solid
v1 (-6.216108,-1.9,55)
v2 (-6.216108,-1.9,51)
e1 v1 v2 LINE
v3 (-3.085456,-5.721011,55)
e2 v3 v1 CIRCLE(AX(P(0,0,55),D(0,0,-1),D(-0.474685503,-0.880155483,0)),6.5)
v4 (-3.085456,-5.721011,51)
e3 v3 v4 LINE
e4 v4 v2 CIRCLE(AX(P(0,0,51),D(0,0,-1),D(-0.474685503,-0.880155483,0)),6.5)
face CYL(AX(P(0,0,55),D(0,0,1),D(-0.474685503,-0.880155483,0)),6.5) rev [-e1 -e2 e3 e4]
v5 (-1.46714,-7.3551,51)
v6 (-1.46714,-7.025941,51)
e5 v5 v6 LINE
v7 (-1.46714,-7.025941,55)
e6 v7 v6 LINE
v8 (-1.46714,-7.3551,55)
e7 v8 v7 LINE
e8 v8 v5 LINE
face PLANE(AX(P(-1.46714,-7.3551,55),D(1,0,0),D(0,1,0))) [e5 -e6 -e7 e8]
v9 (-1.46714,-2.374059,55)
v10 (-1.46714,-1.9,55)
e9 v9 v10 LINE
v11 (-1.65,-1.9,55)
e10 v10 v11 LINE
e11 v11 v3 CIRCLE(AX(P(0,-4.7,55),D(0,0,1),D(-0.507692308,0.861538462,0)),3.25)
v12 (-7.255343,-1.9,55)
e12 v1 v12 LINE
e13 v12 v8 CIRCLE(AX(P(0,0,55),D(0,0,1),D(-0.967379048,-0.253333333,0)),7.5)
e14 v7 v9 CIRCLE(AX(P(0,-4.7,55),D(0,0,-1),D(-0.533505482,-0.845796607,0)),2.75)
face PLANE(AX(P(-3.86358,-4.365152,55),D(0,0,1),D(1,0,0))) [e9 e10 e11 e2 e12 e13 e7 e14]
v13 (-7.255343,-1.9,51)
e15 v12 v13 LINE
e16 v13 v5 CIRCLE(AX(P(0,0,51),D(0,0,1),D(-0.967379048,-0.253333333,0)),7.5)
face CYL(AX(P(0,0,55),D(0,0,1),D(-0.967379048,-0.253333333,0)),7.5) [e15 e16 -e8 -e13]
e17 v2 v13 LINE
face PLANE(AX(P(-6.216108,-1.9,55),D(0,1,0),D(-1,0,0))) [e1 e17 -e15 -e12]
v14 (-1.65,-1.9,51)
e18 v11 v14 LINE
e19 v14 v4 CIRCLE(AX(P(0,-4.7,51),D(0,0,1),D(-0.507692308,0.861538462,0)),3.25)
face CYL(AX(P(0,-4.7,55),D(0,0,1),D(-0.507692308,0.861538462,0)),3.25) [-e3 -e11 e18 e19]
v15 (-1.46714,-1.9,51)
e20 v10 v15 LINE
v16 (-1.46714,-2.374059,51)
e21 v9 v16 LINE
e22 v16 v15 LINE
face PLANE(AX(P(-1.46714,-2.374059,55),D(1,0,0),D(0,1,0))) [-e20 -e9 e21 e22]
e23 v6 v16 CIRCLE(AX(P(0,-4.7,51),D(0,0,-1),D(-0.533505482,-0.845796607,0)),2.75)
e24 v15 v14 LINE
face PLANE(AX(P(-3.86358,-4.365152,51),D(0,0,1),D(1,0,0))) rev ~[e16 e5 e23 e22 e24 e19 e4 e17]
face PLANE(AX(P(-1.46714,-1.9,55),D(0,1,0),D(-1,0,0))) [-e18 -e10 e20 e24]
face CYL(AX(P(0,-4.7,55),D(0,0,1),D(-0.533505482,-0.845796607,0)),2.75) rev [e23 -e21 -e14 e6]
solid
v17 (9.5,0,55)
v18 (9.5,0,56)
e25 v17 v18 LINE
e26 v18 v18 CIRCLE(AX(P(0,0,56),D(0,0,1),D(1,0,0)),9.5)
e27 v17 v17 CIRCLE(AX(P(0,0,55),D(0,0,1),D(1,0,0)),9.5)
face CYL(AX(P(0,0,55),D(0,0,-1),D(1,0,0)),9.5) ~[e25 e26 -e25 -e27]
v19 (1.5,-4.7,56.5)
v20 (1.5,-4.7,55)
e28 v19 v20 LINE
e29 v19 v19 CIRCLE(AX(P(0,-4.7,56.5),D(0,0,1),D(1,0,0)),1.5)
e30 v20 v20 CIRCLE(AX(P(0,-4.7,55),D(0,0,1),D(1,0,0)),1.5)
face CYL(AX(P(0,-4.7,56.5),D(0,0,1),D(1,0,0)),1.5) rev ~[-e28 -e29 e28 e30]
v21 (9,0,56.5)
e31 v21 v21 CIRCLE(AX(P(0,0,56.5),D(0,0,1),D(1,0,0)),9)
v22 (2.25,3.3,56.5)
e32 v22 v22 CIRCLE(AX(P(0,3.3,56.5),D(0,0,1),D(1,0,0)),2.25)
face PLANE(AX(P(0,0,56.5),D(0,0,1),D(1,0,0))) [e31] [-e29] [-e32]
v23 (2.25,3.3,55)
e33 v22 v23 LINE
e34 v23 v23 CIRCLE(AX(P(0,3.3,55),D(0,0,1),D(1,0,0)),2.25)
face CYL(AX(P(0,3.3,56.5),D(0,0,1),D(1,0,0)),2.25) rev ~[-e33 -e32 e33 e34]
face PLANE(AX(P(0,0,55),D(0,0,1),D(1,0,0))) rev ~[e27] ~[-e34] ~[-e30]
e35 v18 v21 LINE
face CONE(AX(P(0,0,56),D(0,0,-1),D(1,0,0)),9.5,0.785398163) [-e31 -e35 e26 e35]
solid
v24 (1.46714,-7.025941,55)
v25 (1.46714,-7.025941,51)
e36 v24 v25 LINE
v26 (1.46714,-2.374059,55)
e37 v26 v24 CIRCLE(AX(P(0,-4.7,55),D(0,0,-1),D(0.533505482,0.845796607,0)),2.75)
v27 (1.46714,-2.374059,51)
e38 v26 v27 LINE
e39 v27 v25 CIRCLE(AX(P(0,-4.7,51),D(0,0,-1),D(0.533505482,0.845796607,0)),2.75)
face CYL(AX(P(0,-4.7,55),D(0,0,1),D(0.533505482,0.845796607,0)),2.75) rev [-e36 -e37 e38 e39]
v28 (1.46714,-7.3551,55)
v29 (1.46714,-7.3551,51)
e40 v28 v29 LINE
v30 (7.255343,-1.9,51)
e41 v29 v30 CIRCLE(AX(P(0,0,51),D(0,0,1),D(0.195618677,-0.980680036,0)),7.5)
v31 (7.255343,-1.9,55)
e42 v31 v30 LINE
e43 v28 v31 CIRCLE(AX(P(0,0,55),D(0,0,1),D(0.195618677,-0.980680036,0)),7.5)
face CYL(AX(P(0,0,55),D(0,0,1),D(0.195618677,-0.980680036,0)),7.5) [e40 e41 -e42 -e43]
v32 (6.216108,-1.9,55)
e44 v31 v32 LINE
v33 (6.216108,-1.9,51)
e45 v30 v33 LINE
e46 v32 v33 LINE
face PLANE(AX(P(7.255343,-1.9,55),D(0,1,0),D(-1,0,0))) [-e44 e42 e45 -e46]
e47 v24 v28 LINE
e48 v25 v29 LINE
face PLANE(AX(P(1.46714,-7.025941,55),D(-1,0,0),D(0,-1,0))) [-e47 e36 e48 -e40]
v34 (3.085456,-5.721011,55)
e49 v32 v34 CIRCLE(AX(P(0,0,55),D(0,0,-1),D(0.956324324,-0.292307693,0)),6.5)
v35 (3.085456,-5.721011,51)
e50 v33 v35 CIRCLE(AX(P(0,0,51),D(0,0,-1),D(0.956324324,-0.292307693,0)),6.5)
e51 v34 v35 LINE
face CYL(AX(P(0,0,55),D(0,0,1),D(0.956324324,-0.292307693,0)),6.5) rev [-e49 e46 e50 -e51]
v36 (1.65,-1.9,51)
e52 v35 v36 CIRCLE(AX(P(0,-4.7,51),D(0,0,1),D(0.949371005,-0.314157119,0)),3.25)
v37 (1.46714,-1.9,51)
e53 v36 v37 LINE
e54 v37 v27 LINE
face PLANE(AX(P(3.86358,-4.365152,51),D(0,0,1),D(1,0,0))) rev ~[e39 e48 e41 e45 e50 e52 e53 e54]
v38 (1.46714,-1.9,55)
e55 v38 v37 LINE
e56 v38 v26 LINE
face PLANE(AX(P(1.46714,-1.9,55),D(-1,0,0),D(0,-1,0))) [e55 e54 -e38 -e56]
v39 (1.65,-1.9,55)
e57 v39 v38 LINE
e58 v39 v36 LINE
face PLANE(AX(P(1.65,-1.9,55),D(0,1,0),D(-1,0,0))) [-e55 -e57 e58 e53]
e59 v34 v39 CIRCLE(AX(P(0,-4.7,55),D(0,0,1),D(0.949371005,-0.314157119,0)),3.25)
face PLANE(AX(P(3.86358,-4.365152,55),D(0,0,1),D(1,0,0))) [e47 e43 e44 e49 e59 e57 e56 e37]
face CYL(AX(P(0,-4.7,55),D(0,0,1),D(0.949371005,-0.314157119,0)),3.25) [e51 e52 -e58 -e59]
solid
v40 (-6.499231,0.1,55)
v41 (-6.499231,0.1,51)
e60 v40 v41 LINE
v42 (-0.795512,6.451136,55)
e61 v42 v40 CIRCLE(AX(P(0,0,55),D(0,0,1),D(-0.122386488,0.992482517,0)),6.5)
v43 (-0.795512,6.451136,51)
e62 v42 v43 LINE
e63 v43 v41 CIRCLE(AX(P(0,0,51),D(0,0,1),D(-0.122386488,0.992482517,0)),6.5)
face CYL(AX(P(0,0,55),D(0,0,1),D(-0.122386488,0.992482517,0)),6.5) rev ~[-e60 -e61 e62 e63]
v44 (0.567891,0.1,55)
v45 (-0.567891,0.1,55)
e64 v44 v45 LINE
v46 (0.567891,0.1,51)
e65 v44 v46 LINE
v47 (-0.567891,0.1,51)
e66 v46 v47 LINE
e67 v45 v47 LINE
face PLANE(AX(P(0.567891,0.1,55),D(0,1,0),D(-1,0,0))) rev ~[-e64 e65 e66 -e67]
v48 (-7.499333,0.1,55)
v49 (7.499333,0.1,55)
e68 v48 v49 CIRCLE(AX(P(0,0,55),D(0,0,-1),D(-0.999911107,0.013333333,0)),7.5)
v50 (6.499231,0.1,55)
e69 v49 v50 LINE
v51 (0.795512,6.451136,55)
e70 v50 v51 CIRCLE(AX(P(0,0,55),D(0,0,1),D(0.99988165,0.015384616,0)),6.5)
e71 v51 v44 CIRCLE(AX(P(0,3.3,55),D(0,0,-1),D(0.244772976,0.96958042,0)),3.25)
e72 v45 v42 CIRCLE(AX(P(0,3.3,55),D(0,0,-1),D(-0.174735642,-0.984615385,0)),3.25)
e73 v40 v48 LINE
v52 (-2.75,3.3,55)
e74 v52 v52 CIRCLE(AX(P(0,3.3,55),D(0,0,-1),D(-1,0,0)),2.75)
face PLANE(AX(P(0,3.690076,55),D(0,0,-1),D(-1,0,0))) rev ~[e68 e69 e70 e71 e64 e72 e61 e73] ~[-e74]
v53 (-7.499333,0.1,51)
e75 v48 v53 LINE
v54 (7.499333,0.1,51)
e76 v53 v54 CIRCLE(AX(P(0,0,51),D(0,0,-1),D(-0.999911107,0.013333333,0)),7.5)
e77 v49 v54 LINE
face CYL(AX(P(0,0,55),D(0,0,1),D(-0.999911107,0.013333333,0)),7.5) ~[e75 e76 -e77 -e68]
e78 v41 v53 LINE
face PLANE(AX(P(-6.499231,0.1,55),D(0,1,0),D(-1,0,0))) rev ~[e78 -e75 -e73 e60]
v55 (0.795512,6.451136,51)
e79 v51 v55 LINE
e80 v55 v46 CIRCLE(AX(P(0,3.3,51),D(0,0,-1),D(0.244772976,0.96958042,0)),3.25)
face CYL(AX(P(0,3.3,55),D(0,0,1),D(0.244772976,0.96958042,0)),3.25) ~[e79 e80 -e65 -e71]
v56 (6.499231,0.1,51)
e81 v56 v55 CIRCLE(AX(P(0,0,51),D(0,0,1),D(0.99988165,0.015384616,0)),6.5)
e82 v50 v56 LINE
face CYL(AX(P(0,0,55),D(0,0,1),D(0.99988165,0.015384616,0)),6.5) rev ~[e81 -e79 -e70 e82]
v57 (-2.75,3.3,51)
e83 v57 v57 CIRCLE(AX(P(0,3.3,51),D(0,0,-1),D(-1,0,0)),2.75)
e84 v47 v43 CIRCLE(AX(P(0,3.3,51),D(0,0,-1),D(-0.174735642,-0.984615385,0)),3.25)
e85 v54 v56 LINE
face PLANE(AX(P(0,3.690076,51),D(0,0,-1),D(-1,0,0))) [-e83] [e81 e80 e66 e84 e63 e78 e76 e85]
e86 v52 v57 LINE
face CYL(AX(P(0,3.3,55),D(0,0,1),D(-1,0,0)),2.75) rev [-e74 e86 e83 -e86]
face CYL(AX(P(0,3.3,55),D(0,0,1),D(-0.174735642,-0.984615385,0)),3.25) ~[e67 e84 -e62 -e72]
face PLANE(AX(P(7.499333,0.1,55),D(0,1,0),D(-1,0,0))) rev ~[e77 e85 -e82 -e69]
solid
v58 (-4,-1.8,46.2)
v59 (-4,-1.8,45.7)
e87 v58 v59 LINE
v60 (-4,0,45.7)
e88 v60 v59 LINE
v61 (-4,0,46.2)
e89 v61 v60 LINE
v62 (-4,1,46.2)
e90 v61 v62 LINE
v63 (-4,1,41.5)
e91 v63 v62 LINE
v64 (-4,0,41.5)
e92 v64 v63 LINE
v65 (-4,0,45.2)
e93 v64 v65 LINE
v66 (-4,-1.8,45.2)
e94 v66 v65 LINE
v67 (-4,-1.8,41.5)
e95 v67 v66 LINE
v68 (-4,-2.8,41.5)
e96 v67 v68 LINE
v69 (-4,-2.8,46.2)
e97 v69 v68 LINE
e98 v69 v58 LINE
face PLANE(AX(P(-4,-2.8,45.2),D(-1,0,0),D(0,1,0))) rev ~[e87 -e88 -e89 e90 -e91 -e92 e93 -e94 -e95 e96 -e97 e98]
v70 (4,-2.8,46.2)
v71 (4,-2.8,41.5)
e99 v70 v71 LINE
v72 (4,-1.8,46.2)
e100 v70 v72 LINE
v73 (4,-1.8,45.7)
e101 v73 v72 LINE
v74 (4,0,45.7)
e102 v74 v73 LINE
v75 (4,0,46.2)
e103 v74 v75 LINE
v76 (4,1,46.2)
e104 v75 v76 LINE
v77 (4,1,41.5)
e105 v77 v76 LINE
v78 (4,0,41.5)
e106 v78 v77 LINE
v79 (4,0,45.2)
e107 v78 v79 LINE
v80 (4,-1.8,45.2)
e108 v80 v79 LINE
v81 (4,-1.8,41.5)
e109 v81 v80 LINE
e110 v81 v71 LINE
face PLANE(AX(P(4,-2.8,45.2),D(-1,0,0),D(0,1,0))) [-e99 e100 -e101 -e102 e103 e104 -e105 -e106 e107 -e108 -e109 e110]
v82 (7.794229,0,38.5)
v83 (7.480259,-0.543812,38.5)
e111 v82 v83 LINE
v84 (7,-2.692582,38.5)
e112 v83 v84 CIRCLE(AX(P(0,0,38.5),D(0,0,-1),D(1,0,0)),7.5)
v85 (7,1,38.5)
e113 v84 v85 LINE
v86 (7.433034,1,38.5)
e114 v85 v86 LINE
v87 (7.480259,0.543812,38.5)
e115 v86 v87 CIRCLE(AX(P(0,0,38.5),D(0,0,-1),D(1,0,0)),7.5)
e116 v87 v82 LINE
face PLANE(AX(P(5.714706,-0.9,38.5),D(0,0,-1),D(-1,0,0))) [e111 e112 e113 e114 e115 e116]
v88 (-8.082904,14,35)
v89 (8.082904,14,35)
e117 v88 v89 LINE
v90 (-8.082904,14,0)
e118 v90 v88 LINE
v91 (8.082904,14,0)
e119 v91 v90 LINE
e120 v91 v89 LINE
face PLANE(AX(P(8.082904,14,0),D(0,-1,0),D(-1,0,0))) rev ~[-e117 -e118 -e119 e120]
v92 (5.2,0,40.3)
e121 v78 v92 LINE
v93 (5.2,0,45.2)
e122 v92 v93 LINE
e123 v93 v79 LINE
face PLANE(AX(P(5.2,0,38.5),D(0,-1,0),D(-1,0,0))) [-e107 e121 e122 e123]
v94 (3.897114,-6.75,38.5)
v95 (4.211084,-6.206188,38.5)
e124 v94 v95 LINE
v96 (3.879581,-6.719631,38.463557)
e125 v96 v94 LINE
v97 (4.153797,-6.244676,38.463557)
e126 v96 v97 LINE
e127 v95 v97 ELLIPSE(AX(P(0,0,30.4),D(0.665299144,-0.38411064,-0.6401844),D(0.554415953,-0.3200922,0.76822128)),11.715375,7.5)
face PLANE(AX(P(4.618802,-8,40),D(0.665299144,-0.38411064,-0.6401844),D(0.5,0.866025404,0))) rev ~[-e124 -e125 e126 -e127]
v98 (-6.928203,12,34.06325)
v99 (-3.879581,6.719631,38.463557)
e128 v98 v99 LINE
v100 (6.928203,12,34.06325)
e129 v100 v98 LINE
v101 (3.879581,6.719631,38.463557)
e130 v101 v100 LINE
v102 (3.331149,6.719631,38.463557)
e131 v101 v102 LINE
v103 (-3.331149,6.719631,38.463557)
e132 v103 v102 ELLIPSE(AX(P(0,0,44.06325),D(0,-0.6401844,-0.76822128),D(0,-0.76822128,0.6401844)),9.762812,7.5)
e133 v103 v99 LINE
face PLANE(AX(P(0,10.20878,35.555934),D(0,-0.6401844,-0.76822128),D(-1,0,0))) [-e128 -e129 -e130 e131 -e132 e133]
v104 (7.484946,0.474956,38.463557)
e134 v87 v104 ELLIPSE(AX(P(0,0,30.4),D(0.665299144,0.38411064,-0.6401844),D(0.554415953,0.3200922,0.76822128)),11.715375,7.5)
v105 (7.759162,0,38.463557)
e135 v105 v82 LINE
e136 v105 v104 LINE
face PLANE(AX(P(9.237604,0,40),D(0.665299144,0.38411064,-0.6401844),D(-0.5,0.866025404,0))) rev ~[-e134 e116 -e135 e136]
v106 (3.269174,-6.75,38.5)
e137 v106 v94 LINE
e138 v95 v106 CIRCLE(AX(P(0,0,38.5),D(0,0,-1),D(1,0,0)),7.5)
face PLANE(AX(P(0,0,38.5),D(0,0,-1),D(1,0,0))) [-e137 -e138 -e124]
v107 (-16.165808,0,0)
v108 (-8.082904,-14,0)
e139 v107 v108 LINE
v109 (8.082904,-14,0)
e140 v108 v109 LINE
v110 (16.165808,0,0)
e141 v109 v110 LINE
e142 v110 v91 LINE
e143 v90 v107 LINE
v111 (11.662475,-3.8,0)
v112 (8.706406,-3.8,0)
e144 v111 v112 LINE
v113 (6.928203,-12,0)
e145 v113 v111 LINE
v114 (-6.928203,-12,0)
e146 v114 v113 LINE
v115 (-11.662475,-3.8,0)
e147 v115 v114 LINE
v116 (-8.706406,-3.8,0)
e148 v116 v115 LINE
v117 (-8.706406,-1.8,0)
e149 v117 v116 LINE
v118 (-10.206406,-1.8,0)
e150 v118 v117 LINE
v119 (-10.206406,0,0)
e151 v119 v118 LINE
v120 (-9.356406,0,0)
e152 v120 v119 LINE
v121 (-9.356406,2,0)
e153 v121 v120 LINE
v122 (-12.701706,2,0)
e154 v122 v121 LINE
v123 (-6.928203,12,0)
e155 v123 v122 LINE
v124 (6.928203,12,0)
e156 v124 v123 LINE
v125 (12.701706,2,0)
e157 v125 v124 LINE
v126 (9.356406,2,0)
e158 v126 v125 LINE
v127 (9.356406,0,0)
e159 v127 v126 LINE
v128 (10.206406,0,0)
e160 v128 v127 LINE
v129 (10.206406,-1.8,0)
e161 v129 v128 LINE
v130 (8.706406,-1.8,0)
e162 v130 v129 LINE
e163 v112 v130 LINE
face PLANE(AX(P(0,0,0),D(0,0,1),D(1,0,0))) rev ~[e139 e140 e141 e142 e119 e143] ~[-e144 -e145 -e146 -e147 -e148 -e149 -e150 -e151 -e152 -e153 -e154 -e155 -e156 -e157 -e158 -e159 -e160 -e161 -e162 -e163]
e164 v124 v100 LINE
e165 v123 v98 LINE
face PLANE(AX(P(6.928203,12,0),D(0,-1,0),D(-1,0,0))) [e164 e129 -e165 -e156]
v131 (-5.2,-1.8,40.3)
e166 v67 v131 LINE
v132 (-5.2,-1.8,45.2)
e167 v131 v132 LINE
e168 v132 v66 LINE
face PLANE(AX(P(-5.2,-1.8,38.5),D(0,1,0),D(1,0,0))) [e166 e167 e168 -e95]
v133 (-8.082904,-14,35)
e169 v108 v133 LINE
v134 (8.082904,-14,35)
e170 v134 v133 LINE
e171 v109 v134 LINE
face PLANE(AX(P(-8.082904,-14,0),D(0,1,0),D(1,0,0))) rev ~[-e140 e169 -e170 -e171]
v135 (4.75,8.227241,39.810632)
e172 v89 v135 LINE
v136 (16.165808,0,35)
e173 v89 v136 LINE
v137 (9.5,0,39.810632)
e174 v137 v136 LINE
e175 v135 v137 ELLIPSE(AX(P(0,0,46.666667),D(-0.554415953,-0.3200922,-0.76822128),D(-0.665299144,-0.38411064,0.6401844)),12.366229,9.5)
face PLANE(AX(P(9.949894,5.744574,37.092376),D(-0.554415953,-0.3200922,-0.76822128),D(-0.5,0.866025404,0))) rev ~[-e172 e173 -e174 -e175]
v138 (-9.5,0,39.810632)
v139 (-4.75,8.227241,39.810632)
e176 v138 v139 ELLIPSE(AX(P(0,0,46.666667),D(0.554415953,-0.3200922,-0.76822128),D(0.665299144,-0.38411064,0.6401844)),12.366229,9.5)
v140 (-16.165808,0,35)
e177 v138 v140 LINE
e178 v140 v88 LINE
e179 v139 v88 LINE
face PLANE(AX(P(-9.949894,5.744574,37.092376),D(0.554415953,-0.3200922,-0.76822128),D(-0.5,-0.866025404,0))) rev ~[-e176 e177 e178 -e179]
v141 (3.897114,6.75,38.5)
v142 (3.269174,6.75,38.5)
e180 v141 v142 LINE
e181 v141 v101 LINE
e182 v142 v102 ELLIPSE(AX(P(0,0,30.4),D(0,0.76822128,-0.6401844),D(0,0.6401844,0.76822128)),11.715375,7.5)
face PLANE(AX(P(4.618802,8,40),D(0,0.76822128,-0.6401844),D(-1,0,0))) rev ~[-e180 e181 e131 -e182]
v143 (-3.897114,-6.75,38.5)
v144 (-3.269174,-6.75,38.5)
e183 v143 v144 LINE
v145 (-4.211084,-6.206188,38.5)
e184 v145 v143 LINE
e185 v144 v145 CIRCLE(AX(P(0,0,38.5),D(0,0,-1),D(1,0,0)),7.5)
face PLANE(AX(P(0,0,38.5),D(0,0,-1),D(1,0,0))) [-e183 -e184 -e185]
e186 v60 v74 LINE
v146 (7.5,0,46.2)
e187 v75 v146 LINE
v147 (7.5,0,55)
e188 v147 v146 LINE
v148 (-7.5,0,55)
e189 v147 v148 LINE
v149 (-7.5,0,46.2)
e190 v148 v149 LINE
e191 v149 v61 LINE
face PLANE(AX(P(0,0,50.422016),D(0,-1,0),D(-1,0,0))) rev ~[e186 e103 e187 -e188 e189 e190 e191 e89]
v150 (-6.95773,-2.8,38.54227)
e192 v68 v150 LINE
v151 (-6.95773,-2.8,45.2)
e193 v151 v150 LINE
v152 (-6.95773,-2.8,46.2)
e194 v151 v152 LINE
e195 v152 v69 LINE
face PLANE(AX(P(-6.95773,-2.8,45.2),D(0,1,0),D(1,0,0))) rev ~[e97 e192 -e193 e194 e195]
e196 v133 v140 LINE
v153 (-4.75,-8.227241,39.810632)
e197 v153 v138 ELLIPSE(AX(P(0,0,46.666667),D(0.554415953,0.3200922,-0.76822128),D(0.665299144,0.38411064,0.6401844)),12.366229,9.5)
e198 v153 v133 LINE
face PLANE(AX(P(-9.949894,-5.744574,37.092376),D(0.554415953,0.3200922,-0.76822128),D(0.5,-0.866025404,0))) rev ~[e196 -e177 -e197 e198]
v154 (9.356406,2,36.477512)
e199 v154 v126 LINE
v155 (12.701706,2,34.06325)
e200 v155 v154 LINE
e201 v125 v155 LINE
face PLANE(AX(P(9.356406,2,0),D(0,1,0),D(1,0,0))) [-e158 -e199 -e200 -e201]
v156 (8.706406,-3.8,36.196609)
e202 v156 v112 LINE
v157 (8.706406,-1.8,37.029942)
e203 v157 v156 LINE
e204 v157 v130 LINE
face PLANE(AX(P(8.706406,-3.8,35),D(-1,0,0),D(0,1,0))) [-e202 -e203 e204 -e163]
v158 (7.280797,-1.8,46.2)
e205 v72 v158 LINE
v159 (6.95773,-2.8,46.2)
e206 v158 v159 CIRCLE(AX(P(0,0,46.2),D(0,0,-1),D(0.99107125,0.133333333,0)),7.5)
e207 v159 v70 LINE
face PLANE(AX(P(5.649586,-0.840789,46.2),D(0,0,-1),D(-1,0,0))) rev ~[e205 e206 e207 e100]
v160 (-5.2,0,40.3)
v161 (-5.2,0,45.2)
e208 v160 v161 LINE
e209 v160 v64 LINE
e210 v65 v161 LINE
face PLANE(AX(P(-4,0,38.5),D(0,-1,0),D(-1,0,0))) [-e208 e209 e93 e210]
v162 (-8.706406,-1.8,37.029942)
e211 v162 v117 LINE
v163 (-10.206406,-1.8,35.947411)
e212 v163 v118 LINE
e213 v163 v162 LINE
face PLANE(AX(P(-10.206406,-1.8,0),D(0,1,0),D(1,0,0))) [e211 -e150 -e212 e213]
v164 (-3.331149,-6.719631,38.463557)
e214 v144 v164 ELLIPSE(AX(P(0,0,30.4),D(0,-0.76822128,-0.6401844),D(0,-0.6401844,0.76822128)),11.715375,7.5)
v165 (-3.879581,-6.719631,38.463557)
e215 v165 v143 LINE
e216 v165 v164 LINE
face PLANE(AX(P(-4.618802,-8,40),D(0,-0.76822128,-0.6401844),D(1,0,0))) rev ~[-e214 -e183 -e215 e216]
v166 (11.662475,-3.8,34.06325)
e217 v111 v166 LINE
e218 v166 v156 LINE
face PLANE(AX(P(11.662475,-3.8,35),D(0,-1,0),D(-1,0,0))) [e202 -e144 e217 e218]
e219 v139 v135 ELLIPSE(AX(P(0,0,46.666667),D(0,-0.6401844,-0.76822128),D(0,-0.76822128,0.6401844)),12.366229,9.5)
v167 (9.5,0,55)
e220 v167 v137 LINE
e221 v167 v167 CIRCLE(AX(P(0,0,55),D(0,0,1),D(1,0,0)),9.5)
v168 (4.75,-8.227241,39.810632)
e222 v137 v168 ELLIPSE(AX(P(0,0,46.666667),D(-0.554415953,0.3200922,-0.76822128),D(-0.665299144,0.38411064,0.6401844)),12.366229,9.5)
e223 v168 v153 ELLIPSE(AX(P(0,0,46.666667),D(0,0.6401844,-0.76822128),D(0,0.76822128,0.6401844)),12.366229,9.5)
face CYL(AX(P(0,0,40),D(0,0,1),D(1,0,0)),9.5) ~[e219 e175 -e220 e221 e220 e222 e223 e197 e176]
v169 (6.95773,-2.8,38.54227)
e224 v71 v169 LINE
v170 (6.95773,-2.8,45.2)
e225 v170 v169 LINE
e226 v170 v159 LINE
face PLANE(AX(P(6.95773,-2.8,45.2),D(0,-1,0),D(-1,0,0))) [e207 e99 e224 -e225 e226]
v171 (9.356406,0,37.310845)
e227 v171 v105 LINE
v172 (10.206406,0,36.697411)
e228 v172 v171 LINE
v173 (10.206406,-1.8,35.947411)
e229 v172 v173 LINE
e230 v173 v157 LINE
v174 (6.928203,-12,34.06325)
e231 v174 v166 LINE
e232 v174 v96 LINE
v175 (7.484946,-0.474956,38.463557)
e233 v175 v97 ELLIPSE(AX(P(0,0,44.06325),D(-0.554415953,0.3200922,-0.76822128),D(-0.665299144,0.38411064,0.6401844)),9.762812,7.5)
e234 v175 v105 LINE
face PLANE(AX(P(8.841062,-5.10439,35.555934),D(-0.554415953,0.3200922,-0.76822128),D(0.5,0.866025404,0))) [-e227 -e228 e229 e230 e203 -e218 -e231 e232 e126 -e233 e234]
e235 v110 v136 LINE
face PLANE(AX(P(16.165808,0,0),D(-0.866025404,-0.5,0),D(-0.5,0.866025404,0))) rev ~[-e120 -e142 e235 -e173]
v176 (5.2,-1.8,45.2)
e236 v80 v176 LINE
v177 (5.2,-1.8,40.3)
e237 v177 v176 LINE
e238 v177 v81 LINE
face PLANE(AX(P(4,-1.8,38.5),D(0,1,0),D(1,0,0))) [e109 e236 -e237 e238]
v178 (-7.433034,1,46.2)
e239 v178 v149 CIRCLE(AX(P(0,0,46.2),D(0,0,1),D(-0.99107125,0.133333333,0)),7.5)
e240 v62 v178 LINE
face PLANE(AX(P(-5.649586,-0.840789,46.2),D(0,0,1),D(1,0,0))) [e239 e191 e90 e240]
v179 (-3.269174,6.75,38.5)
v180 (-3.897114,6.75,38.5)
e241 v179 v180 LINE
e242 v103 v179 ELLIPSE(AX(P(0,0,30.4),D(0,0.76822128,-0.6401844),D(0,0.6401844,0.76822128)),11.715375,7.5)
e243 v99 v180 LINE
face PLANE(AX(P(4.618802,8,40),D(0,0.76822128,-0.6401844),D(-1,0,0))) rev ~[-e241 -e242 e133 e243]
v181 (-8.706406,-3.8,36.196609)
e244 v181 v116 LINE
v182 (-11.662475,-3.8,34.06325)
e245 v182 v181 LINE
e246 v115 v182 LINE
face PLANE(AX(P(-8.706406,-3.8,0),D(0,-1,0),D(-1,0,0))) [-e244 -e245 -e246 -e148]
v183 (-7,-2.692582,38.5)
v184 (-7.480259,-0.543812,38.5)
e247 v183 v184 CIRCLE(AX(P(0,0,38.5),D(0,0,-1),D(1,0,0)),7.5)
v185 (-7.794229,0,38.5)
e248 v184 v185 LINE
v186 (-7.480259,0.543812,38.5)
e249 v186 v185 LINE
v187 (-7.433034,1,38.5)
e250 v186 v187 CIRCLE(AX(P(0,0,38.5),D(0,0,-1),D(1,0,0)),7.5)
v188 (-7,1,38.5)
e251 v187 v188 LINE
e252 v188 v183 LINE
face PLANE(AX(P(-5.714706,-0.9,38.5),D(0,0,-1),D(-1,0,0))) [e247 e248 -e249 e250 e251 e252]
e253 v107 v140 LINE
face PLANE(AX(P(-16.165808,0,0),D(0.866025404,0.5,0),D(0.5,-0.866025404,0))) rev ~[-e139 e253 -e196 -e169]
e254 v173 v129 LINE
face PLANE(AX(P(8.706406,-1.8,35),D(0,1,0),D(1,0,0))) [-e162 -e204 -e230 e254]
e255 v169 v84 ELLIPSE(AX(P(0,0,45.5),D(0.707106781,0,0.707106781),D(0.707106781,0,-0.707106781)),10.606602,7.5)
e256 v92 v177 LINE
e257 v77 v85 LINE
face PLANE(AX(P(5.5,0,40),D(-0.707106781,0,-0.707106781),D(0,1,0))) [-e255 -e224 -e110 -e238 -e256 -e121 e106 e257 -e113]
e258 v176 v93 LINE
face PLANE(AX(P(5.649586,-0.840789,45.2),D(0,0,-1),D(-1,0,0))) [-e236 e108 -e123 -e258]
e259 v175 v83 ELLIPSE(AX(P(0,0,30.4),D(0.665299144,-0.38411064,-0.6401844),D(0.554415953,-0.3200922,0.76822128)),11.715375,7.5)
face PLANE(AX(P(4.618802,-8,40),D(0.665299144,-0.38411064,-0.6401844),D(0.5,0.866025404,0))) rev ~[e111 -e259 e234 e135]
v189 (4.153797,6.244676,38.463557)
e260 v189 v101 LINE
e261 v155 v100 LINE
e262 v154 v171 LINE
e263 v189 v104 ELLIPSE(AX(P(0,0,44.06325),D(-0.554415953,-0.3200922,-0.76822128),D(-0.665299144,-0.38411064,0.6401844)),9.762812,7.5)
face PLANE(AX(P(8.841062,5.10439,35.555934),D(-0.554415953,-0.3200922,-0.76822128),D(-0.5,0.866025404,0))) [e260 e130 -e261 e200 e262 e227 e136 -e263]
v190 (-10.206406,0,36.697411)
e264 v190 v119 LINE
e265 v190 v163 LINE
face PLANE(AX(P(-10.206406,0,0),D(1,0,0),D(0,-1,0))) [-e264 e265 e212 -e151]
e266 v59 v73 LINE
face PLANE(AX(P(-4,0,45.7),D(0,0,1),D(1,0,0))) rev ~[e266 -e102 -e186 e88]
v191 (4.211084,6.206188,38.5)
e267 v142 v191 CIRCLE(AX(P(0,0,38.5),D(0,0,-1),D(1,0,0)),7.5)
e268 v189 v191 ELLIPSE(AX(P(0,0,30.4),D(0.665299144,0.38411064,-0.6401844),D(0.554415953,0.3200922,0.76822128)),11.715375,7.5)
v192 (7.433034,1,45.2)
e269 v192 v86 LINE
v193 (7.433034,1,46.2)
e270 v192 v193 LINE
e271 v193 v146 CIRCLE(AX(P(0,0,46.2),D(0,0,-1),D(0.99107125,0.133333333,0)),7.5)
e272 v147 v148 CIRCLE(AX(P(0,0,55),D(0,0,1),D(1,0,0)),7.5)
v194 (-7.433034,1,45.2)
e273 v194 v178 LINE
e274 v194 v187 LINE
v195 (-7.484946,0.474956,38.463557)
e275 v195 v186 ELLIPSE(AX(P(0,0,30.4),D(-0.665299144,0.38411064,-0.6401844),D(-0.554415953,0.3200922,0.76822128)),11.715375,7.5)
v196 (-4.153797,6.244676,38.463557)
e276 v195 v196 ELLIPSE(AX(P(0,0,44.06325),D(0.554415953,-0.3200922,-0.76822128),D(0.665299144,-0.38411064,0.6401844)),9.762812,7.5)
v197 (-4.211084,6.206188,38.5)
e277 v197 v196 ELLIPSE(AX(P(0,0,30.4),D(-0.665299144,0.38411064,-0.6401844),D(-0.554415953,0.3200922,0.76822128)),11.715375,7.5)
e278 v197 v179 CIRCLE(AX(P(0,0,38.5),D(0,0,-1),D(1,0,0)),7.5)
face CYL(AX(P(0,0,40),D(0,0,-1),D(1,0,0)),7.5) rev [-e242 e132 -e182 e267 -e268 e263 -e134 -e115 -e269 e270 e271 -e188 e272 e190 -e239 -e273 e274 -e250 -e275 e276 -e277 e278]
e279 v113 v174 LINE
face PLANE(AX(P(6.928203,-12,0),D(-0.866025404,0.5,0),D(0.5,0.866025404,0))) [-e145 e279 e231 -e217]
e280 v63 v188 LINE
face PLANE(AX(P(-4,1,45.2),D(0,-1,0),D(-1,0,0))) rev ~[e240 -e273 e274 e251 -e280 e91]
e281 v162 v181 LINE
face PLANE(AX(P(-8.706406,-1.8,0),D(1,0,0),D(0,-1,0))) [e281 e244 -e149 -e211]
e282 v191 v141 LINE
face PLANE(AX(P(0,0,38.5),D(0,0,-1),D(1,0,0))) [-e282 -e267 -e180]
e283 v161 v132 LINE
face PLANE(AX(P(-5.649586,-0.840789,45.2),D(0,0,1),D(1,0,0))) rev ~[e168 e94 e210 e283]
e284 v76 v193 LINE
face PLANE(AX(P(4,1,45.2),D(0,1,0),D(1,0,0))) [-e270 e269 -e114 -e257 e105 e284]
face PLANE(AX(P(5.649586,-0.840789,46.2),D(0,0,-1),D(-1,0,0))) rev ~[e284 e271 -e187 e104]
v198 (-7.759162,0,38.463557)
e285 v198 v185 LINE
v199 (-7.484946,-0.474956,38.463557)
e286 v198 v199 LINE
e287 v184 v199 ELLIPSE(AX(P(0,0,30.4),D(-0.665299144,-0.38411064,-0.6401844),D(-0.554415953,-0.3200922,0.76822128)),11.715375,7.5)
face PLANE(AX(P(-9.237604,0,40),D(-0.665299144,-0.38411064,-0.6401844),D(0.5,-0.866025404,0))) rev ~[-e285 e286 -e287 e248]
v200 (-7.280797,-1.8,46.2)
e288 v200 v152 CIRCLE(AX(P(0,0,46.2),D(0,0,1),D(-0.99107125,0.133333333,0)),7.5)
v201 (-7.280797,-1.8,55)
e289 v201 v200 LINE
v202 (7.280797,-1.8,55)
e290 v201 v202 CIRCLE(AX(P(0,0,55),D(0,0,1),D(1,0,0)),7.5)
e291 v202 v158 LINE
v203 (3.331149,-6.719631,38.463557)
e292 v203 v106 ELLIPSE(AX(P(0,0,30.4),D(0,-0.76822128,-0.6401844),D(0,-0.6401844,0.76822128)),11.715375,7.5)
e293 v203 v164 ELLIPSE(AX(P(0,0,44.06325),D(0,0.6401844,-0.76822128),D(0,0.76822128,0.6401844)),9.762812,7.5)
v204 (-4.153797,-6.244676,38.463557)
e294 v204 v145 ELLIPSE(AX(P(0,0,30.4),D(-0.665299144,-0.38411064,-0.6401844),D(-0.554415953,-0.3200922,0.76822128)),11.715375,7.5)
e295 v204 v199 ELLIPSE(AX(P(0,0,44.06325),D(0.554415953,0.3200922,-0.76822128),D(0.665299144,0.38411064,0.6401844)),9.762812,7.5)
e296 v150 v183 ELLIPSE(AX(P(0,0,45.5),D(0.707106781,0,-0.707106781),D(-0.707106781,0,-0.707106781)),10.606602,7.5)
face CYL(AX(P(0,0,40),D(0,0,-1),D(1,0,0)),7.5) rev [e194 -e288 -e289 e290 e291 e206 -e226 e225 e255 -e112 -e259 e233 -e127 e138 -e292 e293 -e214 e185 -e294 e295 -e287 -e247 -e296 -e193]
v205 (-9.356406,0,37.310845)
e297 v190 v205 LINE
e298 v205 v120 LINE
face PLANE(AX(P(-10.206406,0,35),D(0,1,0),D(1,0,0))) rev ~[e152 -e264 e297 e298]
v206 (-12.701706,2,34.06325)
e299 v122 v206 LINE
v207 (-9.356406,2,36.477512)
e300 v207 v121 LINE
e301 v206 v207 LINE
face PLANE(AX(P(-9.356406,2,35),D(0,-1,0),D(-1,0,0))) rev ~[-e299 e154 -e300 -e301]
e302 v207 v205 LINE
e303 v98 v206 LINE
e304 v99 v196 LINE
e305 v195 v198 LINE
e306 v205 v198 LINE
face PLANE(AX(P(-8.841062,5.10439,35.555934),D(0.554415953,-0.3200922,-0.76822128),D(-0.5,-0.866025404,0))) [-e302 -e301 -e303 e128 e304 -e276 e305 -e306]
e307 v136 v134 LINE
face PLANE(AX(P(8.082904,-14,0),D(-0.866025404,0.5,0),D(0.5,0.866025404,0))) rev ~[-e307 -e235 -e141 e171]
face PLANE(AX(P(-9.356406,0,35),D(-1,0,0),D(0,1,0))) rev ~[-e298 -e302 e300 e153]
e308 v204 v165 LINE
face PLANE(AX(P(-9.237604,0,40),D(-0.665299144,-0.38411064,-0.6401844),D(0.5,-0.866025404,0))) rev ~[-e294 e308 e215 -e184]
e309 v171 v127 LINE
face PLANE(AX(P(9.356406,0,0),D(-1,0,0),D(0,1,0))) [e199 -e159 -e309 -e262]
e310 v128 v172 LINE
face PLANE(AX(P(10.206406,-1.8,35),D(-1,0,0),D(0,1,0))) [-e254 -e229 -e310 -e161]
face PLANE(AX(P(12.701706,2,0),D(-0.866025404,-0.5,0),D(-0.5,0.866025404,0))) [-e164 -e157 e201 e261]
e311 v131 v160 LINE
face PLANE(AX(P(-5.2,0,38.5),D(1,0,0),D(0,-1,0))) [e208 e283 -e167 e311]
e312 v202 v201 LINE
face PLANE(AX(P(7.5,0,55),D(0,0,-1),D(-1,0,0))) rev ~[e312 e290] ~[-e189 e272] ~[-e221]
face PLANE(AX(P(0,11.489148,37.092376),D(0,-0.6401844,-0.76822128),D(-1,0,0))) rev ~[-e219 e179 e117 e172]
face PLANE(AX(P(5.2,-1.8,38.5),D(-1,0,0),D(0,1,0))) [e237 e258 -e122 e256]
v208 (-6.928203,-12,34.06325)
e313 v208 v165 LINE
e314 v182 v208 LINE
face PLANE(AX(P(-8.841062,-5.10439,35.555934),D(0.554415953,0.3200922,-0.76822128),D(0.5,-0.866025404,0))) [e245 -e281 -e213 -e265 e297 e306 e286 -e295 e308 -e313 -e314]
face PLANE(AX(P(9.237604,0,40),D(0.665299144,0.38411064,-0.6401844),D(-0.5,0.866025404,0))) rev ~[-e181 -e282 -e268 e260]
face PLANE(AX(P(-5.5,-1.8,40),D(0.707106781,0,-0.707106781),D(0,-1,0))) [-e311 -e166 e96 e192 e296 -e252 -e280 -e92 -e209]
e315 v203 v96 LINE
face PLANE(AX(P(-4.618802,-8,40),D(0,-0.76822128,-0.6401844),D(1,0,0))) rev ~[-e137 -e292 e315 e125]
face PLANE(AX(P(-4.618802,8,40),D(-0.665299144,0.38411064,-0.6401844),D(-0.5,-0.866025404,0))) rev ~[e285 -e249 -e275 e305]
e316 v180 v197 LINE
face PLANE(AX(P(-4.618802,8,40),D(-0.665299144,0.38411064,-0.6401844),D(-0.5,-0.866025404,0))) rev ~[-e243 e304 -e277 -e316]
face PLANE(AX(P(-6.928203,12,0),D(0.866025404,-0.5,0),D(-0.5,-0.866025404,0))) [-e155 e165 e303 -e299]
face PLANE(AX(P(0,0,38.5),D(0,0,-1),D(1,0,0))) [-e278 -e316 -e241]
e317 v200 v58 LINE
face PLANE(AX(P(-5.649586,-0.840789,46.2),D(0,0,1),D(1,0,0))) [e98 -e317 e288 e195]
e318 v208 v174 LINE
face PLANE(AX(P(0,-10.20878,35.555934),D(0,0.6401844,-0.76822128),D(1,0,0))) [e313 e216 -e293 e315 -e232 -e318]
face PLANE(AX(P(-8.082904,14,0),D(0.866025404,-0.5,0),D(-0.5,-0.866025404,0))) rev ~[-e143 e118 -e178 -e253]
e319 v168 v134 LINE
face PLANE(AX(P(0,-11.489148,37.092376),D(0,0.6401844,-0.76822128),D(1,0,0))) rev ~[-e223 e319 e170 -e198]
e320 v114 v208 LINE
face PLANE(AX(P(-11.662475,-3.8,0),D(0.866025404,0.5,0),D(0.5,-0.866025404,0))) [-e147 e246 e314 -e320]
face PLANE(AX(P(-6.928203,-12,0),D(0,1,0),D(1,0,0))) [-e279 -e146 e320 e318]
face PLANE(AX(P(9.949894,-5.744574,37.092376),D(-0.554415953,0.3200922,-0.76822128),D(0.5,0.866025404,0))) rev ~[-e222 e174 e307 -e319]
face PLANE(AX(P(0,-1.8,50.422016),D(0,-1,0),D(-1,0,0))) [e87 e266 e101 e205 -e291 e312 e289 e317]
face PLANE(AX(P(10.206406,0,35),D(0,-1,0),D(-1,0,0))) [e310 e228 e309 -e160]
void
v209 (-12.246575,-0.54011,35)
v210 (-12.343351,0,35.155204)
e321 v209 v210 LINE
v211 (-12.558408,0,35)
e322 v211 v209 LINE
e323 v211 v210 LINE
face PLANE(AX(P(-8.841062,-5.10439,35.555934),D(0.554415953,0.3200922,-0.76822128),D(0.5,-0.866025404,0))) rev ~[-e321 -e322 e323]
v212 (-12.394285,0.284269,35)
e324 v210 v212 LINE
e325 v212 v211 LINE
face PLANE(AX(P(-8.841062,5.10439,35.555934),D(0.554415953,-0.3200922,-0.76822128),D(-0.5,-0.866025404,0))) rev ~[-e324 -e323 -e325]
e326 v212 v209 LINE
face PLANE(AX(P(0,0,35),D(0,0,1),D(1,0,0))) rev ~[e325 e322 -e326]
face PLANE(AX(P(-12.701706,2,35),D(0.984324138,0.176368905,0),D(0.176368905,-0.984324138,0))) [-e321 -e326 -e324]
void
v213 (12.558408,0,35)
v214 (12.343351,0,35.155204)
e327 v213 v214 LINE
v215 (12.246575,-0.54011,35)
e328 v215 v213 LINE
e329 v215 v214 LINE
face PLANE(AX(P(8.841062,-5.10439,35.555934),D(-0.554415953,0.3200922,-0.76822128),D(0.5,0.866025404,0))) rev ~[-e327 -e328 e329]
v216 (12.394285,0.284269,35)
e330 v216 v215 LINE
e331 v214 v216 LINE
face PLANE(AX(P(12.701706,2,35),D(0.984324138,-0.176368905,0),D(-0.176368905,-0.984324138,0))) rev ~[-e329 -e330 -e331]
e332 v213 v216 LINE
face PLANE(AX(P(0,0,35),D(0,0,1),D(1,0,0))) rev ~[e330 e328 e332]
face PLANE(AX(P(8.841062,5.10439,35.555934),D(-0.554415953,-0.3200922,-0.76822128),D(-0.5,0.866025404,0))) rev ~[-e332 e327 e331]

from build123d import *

# Parameters (mm, degrees)
P_IDAT_VYSUNUT_M1_DEPTH       = 35
P_IDAT_VYSUNUT_M2_DEPTH       = 2
SKICA9_R                      = 9.5
SKICA9_R_2                    = 7.5
P_IDAT_VYSUNUT_M3_DEPTH       = 15
KRUHOV_POLE1_COUNT            = 6
SKICA10_R                     = 9.5
SKICA10_R_2                   = 7.5
P_IDAT_VYSUNUT_M4_DEPTH       = 1.5
ODEBRAT_VYSUNUT_M1_DEPTH      = 10
ODEBRAT_VYSUNUT_M1_DEPTH_BACK = 45.040700872
SKICA11_R                     = 7.5
P_IDAT_VYSUNUT_M5_DEPTH       = 6.7
ZKOSEN_2_SIZE                 = 3
P_IDAT_VYSUNUT_M6_REACH       = 43.016
P_IDAT_VYSUNUT_M7_DEPTH       = 1
P_IDAT_VYSUNUT_M8_DEPTH       = 1.8
SKICA18_R                     = 9.5
P_IDAT_VYSUNUT_M9_DEPTH       = 1.5
SKICA19_R                     = 2.25
SKICA19_R_2                   = 1.5
ODEBRAT_VYSUNUT_M3_DEPTH      = 1.5
P_IDAT_VYSUNUT_M11_DEPTH      = 4
P_IDAT_VYSUNUT_M11_2_DEPTH    = 4
SKICA20_R                     = 2.75
P_IDAT_VYSUNUT_M11_3_DEPTH    = 4
ZKOSEN_3_SIZE                 = 0.5


with BuildPart() as part:
    # Skica1 → Přidat vysunutím1 (new body)
    with BuildSketch(Plane.XY):
        Polygon((-16.165807537, 0), (-8.082903769, -14), (8.082903769, -14), (16.165807537, 0), (8.082903769, 14), (-8.082903769, 14), align=None)
        Polygon((12.701705922, 2), (6.92820323, 12), (-6.92820323, 12), (-12.701705922, 2), (-9.356406461, 2), (-9.356406461, 0), (-10.206406461, 0), (-10.206406461, -1.8), (-8.706406461, -1.8), (-8.706406461, -3.8), (-11.662475438, -3.8), (-6.92820323, -12), (6.92820323, -12), (11.662475438, -3.8), (8.706406461, -3.8), (8.706406461, -1.8), (10.206406461, -1.8), (10.206406461, 0), (9.356406461, 0), (9.356406461, 2), align=None, mode=Mode.SUBTRACT)
    extrude(amount=P_IDAT_VYSUNUT_M1_DEPTH)


with BuildPart() as body_2:
    # Skica6 → Přidat vysunutím2 (new body)
    with BuildSketch(Plane(origin=(0, 22.950819672, 27.540983607), x_dir=(-1, 0, 0), z_dir=(2.1639563313744068e-15, -0.6401843996644798, -0.768221279597376))):
        Polygon((-4.618802154, -19.46160575), (4.618802154, -19.46160575), (8.082903769, -11.651356074), (-8.082903769, -11.651356074), align=None)
    extrude(amount=P_IDAT_VYSUNUT_M2_DEPTH)


with BuildPart() as body_3:
    # Skica9 → Přidat vysunutím3 (new body)
    with BuildSketch(Plane.XY.offset(40)):
        Circle(SKICA9_R)
        Circle(SKICA9_R_2, mode=Mode.SUBTRACT)
    extrude(amount=P_IDAT_VYSUNUT_M3_DEPTH)


with BuildPart() as kruhov_pole1_1:
    # Kruhové pole1: pattern copy
    add(body_2.part.rotate(Axis((0, 0, 0), (0, 0, 1)), 1 * 360 / KRUHOV_POLE1_COUNT))


with BuildPart() as kruhov_pole1_2:
    # Kruhové pole1: pattern copy
    add(body_2.part.rotate(Axis((0, 0, 0), (0, 0, 1)), 2 * 360 / KRUHOV_POLE1_COUNT))


with BuildPart() as kruhov_pole1_3:
    # Kruhové pole1: pattern copy
    add(body_2.part.rotate(Axis((0, 0, 0), (0, 0, 1)), 3 * 360 / KRUHOV_POLE1_COUNT))


with BuildPart() as kruhov_pole1_4:
    # Kruhové pole1: pattern copy
    add(body_2.part.rotate(Axis((0, 0, 0), (0, 0, 1)), 4 * 360 / KRUHOV_POLE1_COUNT))


with BuildPart() as kruhov_pole1_5:
    # Kruhové pole1: pattern copy
    add(body_2.part.rotate(Axis((0, 0, 0), (0, 0, 1)), 5 * 360 / KRUHOV_POLE1_COUNT))


with BuildPart() as body_2_1:
    add(body_2.part)

    add(body_3.part)  # Přidat vysunutím4 merges body 3

    add(kruhov_pole1_1.part)  # Přidat vysunutím4 merges Kruhové pole1_1

    add(kruhov_pole1_2.part)  # Přidat vysunutím4 merges Kruhové pole1_2

    add(kruhov_pole1_3.part)  # Přidat vysunutím4 merges Kruhové pole1_3

    add(kruhov_pole1_4.part)  # Přidat vysunutím4 merges Kruhové pole1_4

    add(kruhov_pole1_5.part)  # Přidat vysunutím4 merges Kruhové pole1_5
    # Skica10 → Přidat vysunutím4 (add)
    with BuildSketch(Plane(origin=(0, 0, 40), x_dir=(-1, 0, 0), z_dir=(0, 0, -1))):
        with Locations(Location((0, 0, 0), (0, 0, 180))):
            Circle(SKICA10_R)
        with Locations(Location((0, 0, 0), (0, 0, 180))):
            Circle(SKICA10_R_2, mode=Mode.SUBTRACT)
    extrude(amount=P_IDAT_VYSUNUT_M4_DEPTH)

    # Skica11 → Odebrat vysunutím1 (cut, two sides: drawn at the far end of the back side and taken through both)
    with BuildSketch(Plane(origin=(0, 0, 38.5), x_dir=(-1, 0, 0), z_dir=(0, 0, -1)).offset(-ODEBRAT_VYSUNUT_M1_DEPTH_BACK)):
        with Locations(Location((0, 0, 0), (0, 0, 180))):
            Circle(SKICA11_R)
    extrude(amount=ODEBRAT_VYSUNUT_M1_DEPTH + ODEBRAT_VYSUNUT_M1_DEPTH_BACK, mode=Mode.SUBTRACT)

    # Skica12 → Přidat vysunutím5 (add)
    with BuildSketch(Plane(origin=(0, 0, 38.5), x_dir=(-1, 0, 0), z_dir=(0, 0, -1))):
        Polygon((-4, -1.8), (-5.2, -1.8), (-5.2, 0), (-4, 0), (-4, 1), (-7.5, 1), (-7.5, -2.8), (-4, -2.8), align=None)
        Polygon((7.5, -2.8), (7.5, 1), (4, 1), (4, 0), (5.2, 0), (5.2, -1.8), (4, -1.8), (4, -2.8), align=None)
    extrude(amount=-P_IDAT_VYSUNUT_M5_DEPTH)

    # Zkosení2
    zkosen_2_edges = [body_2_1.edges().sort_by_distance(p)[0] for p in [
        (-4, -2.3, 38.5),
        (4, 0.5, 38.5),
    ]]
    chamfer(zkosen_2_edges, length=ZKOSEN_2_SIZE)

    # Skica14 → Přidat vysunutím6 (add, up to next)
    with BuildSketch(Plane.XY.offset(35), mode=Mode.PRIVATE) as p_idat_vysunut_m6_sk1:
        Polygon((-9.356406461, 2), (-12.701705922, 2), (-11.662475438, -3.8), (-8.706406461, -3.8), (-8.706406461, -1.8), (-10.206406461, -1.8), (-10.206406461, 0), (-9.356406461, 0), align=None)
    p_idat_vysunut_m6_tool1 = extrude(p_idat_vysunut_m6_sk1.sketch, amount=P_IDAT_VYSUNUT_M6_REACH, mode=Mode.PRIVATE) - body_2_1.part
    # Skica14 → Přidat vysunutím6 (add, up to next)
    with BuildSketch(Plane.XY.offset(35), mode=Mode.PRIVATE) as p_idat_vysunut_m6_sk2:
        Polygon((11.662475438, -3.8), (8.706406461, -3.8), (8.706406461, -1.8), (10.206406461, -1.8), (10.206406461, 0), (9.356406461, 0), (9.356406461, 2), (12.701705922, 2), align=None)
    p_idat_vysunut_m6_tool2 = extrude(p_idat_vysunut_m6_sk2.sketch, amount=P_IDAT_VYSUNUT_M6_REACH, mode=Mode.PRIVATE) - body_2_1.part

    add(part.part)  # Přidat vysunutím6 merges part
    add(p_idat_vysunut_m6_tool1.solids().sort_by_distance((-10.739123, -0.872566, 35))[0])
    add(p_idat_vysunut_m6_tool2.solids().sort_by_distance((10.739123, -0.872566, 35))[0])

    # Skica16 → Přidat vysunutím7 (add)
    with BuildSketch(Plane.XY.offset(45.2)):
        with BuildLine():
            Line((-4, -2.8), (-4, 1))
            Line((-4, 1), (-7.433034374, 1))
            ThreePointArc((-7.433034374, 1), (-7.44201057, -0.930848364), (-6.957729515, -2.8))
            Line((-6.957729515, -2.8), (-4, -2.8))
        make_face()
        with BuildLine():
            Line((4, -2.8), (4, 1))
            Line((4, 1), (7.433034374, 1))
            ThreePointArc((7.433034374, 1), (7.44201057, -0.930848364), (6.957729515, -2.8))
            Line((6.957729515, -2.8), (4, -2.8))
        make_face()
    extrude(amount=P_IDAT_VYSUNUT_M7_DEPTH)

    # Skica17 → Přidat vysunutím8 (add)
    with BuildSketch(Plane(origin=(0, 0, 0), x_dir=(1, 0, 0), z_dir=(0, 1, 0))):
        Polygon((-4, -45.7), (4, -45.7), (4, -46.2), (7.5, -46.2), (7.5, -55), (-7.5, -55), (-7.5, -46.2), (-4, -46.2), align=None)
    extrude(amount=-P_IDAT_VYSUNUT_M8_DEPTH)


with BuildPart() as body_2_2:
    # Skica18 → Přidat vysunutím9 (new body)
    with BuildSketch(Plane.XY.offset(55)):
        Circle(SKICA18_R)
    extrude(amount=P_IDAT_VYSUNUT_M9_DEPTH)

    # Skica19 → Odebrat vysunutím3 (cut)
    with BuildSketch(Plane.XY.offset(56.5)):
        with Locations((0, 3.3)):
            Circle(SKICA19_R)
        with Locations((0, -4.7)):
            Circle(SKICA19_R_2)
    extrude(amount=-ODEBRAT_VYSUNUT_M3_DEPTH, mode=Mode.SUBTRACT)

    # Zkosení3
    zkosen_3_edges = [body_2_2.edges().sort_by_distance(p)[0] for p in [
        (-9.5, 0, 56.5),
    ]]
    chamfer(zkosen_3_edges, length=ZKOSEN_3_SIZE)


with BuildPart() as body_3_2:
    # Skica20 → Přidat vysunutím11 (new body)
    with BuildSketch(Plane(origin=(0, 0, 55), x_dir=(-1, 0, 0), z_dir=(0, 0, -1))):
        with BuildLine():
            Line((-7.255342859, -1.9), (-6.216108107, -1.9))
            ThreePointArc((-6.216108107, -1.9), (-5.027902464, -4.119489872), (-3.085455765, -5.721010638))
            ThreePointArc((-3.085455765, -5.721010638), (-3.042394764, -3.557050263), (-1.65, -1.9))
            Line((-1.65, -1.9), (-1.467140075, -1.9))
            Line((-1.467140075, -1.9), (-1.467140075, -2.37405933))
            ThreePointArc((-1.467140075, -2.37405933), (-2.75, -4.7), (-1.467140075, -7.02594067))
            Line((-1.467140075, -7.02594067), (-1.467140075, -7.355100271))
            ThreePointArc((-1.467140075, -7.355100271), (-5.143924268, -5.45802557), (-7.255342859, -1.9))
        make_face()
    extrude(amount=P_IDAT_VYSUNUT_M11_DEPTH)


with BuildPart() as body_4:
    # Skica20 → P_idat vysunut_m11 2 (new body)
    with BuildSketch(Plane(origin=(0, 0, 55), x_dir=(-1, 0, 0), z_dir=(0, 0, -1))):
        with BuildLine():
            Line((6.216108107, -1.9), (7.255342859, -1.9))
            ThreePointArc((7.255342859, -1.9), (5.143924268, -5.45802557), (1.467140075, -7.355100271))
            Line((1.467140075, -7.355100271), (1.467140075, -7.02594067))
            ThreePointArc((1.467140075, -7.02594067), (2.75, -4.7), (1.467140075, -2.37405933))
            Line((1.467140075, -2.37405933), (1.467140075, -1.9))
            Line((1.467140075, -1.9), (1.65, -1.9))
            ThreePointArc((1.65, -1.9), (3.042394764, -3.557050263), (3.085455765, -5.721010638))
            ThreePointArc((3.085455765, -5.721010638), (5.027902464, -4.119489872), (6.216108107, -1.9))
        make_face()
    extrude(amount=P_IDAT_VYSUNUT_M11_2_DEPTH)


with BuildPart() as body_5:
    # Skica20 → P_idat vysunut_m11 3 (new body)
    with BuildSketch(Plane(origin=(0, 0, 55), x_dir=(-1, 0, 0), z_dir=(0, 0, -1))):
        with BuildLine():
            Line((-7.499333304, 0.1), (-6.499230724, 0.1))
            ThreePointArc((-6.499230724, 0.1), (-4.836067799, 4.343092014), (-0.795512173, 6.451136364))
            ThreePointArc((-0.795512173, 6.451136364), (-3.247914749, 3.183596468), (-0.567890835, 0.1))
            Line((-0.567890835, 0.1), (0.567890835, 0.1))
            ThreePointArc((0.567890835, 0.1), (3.247914749, 3.183596468), (0.795512173, 6.451136364))
            ThreePointArc((0.795512173, 6.451136364), (4.836067799, 4.343092014), (6.499230724, 0.1))
            Line((6.499230724, 0.1), (7.499333304, 0.1))
            ThreePointArc((7.499333304, 0.1), (0, 7.5), (-7.499333304, 0.1))
        make_face()
        with Locations((0, 3.3)):
            Circle(SKICA20_R, mode=Mode.SUBTRACT)
    extrude(amount=P_IDAT_VYSUNUT_M11_3_DEPTH)


solid = Compound([body_2_1.part, body_2_2.part, body_3_2.part, body_4.part, body_5.part])
